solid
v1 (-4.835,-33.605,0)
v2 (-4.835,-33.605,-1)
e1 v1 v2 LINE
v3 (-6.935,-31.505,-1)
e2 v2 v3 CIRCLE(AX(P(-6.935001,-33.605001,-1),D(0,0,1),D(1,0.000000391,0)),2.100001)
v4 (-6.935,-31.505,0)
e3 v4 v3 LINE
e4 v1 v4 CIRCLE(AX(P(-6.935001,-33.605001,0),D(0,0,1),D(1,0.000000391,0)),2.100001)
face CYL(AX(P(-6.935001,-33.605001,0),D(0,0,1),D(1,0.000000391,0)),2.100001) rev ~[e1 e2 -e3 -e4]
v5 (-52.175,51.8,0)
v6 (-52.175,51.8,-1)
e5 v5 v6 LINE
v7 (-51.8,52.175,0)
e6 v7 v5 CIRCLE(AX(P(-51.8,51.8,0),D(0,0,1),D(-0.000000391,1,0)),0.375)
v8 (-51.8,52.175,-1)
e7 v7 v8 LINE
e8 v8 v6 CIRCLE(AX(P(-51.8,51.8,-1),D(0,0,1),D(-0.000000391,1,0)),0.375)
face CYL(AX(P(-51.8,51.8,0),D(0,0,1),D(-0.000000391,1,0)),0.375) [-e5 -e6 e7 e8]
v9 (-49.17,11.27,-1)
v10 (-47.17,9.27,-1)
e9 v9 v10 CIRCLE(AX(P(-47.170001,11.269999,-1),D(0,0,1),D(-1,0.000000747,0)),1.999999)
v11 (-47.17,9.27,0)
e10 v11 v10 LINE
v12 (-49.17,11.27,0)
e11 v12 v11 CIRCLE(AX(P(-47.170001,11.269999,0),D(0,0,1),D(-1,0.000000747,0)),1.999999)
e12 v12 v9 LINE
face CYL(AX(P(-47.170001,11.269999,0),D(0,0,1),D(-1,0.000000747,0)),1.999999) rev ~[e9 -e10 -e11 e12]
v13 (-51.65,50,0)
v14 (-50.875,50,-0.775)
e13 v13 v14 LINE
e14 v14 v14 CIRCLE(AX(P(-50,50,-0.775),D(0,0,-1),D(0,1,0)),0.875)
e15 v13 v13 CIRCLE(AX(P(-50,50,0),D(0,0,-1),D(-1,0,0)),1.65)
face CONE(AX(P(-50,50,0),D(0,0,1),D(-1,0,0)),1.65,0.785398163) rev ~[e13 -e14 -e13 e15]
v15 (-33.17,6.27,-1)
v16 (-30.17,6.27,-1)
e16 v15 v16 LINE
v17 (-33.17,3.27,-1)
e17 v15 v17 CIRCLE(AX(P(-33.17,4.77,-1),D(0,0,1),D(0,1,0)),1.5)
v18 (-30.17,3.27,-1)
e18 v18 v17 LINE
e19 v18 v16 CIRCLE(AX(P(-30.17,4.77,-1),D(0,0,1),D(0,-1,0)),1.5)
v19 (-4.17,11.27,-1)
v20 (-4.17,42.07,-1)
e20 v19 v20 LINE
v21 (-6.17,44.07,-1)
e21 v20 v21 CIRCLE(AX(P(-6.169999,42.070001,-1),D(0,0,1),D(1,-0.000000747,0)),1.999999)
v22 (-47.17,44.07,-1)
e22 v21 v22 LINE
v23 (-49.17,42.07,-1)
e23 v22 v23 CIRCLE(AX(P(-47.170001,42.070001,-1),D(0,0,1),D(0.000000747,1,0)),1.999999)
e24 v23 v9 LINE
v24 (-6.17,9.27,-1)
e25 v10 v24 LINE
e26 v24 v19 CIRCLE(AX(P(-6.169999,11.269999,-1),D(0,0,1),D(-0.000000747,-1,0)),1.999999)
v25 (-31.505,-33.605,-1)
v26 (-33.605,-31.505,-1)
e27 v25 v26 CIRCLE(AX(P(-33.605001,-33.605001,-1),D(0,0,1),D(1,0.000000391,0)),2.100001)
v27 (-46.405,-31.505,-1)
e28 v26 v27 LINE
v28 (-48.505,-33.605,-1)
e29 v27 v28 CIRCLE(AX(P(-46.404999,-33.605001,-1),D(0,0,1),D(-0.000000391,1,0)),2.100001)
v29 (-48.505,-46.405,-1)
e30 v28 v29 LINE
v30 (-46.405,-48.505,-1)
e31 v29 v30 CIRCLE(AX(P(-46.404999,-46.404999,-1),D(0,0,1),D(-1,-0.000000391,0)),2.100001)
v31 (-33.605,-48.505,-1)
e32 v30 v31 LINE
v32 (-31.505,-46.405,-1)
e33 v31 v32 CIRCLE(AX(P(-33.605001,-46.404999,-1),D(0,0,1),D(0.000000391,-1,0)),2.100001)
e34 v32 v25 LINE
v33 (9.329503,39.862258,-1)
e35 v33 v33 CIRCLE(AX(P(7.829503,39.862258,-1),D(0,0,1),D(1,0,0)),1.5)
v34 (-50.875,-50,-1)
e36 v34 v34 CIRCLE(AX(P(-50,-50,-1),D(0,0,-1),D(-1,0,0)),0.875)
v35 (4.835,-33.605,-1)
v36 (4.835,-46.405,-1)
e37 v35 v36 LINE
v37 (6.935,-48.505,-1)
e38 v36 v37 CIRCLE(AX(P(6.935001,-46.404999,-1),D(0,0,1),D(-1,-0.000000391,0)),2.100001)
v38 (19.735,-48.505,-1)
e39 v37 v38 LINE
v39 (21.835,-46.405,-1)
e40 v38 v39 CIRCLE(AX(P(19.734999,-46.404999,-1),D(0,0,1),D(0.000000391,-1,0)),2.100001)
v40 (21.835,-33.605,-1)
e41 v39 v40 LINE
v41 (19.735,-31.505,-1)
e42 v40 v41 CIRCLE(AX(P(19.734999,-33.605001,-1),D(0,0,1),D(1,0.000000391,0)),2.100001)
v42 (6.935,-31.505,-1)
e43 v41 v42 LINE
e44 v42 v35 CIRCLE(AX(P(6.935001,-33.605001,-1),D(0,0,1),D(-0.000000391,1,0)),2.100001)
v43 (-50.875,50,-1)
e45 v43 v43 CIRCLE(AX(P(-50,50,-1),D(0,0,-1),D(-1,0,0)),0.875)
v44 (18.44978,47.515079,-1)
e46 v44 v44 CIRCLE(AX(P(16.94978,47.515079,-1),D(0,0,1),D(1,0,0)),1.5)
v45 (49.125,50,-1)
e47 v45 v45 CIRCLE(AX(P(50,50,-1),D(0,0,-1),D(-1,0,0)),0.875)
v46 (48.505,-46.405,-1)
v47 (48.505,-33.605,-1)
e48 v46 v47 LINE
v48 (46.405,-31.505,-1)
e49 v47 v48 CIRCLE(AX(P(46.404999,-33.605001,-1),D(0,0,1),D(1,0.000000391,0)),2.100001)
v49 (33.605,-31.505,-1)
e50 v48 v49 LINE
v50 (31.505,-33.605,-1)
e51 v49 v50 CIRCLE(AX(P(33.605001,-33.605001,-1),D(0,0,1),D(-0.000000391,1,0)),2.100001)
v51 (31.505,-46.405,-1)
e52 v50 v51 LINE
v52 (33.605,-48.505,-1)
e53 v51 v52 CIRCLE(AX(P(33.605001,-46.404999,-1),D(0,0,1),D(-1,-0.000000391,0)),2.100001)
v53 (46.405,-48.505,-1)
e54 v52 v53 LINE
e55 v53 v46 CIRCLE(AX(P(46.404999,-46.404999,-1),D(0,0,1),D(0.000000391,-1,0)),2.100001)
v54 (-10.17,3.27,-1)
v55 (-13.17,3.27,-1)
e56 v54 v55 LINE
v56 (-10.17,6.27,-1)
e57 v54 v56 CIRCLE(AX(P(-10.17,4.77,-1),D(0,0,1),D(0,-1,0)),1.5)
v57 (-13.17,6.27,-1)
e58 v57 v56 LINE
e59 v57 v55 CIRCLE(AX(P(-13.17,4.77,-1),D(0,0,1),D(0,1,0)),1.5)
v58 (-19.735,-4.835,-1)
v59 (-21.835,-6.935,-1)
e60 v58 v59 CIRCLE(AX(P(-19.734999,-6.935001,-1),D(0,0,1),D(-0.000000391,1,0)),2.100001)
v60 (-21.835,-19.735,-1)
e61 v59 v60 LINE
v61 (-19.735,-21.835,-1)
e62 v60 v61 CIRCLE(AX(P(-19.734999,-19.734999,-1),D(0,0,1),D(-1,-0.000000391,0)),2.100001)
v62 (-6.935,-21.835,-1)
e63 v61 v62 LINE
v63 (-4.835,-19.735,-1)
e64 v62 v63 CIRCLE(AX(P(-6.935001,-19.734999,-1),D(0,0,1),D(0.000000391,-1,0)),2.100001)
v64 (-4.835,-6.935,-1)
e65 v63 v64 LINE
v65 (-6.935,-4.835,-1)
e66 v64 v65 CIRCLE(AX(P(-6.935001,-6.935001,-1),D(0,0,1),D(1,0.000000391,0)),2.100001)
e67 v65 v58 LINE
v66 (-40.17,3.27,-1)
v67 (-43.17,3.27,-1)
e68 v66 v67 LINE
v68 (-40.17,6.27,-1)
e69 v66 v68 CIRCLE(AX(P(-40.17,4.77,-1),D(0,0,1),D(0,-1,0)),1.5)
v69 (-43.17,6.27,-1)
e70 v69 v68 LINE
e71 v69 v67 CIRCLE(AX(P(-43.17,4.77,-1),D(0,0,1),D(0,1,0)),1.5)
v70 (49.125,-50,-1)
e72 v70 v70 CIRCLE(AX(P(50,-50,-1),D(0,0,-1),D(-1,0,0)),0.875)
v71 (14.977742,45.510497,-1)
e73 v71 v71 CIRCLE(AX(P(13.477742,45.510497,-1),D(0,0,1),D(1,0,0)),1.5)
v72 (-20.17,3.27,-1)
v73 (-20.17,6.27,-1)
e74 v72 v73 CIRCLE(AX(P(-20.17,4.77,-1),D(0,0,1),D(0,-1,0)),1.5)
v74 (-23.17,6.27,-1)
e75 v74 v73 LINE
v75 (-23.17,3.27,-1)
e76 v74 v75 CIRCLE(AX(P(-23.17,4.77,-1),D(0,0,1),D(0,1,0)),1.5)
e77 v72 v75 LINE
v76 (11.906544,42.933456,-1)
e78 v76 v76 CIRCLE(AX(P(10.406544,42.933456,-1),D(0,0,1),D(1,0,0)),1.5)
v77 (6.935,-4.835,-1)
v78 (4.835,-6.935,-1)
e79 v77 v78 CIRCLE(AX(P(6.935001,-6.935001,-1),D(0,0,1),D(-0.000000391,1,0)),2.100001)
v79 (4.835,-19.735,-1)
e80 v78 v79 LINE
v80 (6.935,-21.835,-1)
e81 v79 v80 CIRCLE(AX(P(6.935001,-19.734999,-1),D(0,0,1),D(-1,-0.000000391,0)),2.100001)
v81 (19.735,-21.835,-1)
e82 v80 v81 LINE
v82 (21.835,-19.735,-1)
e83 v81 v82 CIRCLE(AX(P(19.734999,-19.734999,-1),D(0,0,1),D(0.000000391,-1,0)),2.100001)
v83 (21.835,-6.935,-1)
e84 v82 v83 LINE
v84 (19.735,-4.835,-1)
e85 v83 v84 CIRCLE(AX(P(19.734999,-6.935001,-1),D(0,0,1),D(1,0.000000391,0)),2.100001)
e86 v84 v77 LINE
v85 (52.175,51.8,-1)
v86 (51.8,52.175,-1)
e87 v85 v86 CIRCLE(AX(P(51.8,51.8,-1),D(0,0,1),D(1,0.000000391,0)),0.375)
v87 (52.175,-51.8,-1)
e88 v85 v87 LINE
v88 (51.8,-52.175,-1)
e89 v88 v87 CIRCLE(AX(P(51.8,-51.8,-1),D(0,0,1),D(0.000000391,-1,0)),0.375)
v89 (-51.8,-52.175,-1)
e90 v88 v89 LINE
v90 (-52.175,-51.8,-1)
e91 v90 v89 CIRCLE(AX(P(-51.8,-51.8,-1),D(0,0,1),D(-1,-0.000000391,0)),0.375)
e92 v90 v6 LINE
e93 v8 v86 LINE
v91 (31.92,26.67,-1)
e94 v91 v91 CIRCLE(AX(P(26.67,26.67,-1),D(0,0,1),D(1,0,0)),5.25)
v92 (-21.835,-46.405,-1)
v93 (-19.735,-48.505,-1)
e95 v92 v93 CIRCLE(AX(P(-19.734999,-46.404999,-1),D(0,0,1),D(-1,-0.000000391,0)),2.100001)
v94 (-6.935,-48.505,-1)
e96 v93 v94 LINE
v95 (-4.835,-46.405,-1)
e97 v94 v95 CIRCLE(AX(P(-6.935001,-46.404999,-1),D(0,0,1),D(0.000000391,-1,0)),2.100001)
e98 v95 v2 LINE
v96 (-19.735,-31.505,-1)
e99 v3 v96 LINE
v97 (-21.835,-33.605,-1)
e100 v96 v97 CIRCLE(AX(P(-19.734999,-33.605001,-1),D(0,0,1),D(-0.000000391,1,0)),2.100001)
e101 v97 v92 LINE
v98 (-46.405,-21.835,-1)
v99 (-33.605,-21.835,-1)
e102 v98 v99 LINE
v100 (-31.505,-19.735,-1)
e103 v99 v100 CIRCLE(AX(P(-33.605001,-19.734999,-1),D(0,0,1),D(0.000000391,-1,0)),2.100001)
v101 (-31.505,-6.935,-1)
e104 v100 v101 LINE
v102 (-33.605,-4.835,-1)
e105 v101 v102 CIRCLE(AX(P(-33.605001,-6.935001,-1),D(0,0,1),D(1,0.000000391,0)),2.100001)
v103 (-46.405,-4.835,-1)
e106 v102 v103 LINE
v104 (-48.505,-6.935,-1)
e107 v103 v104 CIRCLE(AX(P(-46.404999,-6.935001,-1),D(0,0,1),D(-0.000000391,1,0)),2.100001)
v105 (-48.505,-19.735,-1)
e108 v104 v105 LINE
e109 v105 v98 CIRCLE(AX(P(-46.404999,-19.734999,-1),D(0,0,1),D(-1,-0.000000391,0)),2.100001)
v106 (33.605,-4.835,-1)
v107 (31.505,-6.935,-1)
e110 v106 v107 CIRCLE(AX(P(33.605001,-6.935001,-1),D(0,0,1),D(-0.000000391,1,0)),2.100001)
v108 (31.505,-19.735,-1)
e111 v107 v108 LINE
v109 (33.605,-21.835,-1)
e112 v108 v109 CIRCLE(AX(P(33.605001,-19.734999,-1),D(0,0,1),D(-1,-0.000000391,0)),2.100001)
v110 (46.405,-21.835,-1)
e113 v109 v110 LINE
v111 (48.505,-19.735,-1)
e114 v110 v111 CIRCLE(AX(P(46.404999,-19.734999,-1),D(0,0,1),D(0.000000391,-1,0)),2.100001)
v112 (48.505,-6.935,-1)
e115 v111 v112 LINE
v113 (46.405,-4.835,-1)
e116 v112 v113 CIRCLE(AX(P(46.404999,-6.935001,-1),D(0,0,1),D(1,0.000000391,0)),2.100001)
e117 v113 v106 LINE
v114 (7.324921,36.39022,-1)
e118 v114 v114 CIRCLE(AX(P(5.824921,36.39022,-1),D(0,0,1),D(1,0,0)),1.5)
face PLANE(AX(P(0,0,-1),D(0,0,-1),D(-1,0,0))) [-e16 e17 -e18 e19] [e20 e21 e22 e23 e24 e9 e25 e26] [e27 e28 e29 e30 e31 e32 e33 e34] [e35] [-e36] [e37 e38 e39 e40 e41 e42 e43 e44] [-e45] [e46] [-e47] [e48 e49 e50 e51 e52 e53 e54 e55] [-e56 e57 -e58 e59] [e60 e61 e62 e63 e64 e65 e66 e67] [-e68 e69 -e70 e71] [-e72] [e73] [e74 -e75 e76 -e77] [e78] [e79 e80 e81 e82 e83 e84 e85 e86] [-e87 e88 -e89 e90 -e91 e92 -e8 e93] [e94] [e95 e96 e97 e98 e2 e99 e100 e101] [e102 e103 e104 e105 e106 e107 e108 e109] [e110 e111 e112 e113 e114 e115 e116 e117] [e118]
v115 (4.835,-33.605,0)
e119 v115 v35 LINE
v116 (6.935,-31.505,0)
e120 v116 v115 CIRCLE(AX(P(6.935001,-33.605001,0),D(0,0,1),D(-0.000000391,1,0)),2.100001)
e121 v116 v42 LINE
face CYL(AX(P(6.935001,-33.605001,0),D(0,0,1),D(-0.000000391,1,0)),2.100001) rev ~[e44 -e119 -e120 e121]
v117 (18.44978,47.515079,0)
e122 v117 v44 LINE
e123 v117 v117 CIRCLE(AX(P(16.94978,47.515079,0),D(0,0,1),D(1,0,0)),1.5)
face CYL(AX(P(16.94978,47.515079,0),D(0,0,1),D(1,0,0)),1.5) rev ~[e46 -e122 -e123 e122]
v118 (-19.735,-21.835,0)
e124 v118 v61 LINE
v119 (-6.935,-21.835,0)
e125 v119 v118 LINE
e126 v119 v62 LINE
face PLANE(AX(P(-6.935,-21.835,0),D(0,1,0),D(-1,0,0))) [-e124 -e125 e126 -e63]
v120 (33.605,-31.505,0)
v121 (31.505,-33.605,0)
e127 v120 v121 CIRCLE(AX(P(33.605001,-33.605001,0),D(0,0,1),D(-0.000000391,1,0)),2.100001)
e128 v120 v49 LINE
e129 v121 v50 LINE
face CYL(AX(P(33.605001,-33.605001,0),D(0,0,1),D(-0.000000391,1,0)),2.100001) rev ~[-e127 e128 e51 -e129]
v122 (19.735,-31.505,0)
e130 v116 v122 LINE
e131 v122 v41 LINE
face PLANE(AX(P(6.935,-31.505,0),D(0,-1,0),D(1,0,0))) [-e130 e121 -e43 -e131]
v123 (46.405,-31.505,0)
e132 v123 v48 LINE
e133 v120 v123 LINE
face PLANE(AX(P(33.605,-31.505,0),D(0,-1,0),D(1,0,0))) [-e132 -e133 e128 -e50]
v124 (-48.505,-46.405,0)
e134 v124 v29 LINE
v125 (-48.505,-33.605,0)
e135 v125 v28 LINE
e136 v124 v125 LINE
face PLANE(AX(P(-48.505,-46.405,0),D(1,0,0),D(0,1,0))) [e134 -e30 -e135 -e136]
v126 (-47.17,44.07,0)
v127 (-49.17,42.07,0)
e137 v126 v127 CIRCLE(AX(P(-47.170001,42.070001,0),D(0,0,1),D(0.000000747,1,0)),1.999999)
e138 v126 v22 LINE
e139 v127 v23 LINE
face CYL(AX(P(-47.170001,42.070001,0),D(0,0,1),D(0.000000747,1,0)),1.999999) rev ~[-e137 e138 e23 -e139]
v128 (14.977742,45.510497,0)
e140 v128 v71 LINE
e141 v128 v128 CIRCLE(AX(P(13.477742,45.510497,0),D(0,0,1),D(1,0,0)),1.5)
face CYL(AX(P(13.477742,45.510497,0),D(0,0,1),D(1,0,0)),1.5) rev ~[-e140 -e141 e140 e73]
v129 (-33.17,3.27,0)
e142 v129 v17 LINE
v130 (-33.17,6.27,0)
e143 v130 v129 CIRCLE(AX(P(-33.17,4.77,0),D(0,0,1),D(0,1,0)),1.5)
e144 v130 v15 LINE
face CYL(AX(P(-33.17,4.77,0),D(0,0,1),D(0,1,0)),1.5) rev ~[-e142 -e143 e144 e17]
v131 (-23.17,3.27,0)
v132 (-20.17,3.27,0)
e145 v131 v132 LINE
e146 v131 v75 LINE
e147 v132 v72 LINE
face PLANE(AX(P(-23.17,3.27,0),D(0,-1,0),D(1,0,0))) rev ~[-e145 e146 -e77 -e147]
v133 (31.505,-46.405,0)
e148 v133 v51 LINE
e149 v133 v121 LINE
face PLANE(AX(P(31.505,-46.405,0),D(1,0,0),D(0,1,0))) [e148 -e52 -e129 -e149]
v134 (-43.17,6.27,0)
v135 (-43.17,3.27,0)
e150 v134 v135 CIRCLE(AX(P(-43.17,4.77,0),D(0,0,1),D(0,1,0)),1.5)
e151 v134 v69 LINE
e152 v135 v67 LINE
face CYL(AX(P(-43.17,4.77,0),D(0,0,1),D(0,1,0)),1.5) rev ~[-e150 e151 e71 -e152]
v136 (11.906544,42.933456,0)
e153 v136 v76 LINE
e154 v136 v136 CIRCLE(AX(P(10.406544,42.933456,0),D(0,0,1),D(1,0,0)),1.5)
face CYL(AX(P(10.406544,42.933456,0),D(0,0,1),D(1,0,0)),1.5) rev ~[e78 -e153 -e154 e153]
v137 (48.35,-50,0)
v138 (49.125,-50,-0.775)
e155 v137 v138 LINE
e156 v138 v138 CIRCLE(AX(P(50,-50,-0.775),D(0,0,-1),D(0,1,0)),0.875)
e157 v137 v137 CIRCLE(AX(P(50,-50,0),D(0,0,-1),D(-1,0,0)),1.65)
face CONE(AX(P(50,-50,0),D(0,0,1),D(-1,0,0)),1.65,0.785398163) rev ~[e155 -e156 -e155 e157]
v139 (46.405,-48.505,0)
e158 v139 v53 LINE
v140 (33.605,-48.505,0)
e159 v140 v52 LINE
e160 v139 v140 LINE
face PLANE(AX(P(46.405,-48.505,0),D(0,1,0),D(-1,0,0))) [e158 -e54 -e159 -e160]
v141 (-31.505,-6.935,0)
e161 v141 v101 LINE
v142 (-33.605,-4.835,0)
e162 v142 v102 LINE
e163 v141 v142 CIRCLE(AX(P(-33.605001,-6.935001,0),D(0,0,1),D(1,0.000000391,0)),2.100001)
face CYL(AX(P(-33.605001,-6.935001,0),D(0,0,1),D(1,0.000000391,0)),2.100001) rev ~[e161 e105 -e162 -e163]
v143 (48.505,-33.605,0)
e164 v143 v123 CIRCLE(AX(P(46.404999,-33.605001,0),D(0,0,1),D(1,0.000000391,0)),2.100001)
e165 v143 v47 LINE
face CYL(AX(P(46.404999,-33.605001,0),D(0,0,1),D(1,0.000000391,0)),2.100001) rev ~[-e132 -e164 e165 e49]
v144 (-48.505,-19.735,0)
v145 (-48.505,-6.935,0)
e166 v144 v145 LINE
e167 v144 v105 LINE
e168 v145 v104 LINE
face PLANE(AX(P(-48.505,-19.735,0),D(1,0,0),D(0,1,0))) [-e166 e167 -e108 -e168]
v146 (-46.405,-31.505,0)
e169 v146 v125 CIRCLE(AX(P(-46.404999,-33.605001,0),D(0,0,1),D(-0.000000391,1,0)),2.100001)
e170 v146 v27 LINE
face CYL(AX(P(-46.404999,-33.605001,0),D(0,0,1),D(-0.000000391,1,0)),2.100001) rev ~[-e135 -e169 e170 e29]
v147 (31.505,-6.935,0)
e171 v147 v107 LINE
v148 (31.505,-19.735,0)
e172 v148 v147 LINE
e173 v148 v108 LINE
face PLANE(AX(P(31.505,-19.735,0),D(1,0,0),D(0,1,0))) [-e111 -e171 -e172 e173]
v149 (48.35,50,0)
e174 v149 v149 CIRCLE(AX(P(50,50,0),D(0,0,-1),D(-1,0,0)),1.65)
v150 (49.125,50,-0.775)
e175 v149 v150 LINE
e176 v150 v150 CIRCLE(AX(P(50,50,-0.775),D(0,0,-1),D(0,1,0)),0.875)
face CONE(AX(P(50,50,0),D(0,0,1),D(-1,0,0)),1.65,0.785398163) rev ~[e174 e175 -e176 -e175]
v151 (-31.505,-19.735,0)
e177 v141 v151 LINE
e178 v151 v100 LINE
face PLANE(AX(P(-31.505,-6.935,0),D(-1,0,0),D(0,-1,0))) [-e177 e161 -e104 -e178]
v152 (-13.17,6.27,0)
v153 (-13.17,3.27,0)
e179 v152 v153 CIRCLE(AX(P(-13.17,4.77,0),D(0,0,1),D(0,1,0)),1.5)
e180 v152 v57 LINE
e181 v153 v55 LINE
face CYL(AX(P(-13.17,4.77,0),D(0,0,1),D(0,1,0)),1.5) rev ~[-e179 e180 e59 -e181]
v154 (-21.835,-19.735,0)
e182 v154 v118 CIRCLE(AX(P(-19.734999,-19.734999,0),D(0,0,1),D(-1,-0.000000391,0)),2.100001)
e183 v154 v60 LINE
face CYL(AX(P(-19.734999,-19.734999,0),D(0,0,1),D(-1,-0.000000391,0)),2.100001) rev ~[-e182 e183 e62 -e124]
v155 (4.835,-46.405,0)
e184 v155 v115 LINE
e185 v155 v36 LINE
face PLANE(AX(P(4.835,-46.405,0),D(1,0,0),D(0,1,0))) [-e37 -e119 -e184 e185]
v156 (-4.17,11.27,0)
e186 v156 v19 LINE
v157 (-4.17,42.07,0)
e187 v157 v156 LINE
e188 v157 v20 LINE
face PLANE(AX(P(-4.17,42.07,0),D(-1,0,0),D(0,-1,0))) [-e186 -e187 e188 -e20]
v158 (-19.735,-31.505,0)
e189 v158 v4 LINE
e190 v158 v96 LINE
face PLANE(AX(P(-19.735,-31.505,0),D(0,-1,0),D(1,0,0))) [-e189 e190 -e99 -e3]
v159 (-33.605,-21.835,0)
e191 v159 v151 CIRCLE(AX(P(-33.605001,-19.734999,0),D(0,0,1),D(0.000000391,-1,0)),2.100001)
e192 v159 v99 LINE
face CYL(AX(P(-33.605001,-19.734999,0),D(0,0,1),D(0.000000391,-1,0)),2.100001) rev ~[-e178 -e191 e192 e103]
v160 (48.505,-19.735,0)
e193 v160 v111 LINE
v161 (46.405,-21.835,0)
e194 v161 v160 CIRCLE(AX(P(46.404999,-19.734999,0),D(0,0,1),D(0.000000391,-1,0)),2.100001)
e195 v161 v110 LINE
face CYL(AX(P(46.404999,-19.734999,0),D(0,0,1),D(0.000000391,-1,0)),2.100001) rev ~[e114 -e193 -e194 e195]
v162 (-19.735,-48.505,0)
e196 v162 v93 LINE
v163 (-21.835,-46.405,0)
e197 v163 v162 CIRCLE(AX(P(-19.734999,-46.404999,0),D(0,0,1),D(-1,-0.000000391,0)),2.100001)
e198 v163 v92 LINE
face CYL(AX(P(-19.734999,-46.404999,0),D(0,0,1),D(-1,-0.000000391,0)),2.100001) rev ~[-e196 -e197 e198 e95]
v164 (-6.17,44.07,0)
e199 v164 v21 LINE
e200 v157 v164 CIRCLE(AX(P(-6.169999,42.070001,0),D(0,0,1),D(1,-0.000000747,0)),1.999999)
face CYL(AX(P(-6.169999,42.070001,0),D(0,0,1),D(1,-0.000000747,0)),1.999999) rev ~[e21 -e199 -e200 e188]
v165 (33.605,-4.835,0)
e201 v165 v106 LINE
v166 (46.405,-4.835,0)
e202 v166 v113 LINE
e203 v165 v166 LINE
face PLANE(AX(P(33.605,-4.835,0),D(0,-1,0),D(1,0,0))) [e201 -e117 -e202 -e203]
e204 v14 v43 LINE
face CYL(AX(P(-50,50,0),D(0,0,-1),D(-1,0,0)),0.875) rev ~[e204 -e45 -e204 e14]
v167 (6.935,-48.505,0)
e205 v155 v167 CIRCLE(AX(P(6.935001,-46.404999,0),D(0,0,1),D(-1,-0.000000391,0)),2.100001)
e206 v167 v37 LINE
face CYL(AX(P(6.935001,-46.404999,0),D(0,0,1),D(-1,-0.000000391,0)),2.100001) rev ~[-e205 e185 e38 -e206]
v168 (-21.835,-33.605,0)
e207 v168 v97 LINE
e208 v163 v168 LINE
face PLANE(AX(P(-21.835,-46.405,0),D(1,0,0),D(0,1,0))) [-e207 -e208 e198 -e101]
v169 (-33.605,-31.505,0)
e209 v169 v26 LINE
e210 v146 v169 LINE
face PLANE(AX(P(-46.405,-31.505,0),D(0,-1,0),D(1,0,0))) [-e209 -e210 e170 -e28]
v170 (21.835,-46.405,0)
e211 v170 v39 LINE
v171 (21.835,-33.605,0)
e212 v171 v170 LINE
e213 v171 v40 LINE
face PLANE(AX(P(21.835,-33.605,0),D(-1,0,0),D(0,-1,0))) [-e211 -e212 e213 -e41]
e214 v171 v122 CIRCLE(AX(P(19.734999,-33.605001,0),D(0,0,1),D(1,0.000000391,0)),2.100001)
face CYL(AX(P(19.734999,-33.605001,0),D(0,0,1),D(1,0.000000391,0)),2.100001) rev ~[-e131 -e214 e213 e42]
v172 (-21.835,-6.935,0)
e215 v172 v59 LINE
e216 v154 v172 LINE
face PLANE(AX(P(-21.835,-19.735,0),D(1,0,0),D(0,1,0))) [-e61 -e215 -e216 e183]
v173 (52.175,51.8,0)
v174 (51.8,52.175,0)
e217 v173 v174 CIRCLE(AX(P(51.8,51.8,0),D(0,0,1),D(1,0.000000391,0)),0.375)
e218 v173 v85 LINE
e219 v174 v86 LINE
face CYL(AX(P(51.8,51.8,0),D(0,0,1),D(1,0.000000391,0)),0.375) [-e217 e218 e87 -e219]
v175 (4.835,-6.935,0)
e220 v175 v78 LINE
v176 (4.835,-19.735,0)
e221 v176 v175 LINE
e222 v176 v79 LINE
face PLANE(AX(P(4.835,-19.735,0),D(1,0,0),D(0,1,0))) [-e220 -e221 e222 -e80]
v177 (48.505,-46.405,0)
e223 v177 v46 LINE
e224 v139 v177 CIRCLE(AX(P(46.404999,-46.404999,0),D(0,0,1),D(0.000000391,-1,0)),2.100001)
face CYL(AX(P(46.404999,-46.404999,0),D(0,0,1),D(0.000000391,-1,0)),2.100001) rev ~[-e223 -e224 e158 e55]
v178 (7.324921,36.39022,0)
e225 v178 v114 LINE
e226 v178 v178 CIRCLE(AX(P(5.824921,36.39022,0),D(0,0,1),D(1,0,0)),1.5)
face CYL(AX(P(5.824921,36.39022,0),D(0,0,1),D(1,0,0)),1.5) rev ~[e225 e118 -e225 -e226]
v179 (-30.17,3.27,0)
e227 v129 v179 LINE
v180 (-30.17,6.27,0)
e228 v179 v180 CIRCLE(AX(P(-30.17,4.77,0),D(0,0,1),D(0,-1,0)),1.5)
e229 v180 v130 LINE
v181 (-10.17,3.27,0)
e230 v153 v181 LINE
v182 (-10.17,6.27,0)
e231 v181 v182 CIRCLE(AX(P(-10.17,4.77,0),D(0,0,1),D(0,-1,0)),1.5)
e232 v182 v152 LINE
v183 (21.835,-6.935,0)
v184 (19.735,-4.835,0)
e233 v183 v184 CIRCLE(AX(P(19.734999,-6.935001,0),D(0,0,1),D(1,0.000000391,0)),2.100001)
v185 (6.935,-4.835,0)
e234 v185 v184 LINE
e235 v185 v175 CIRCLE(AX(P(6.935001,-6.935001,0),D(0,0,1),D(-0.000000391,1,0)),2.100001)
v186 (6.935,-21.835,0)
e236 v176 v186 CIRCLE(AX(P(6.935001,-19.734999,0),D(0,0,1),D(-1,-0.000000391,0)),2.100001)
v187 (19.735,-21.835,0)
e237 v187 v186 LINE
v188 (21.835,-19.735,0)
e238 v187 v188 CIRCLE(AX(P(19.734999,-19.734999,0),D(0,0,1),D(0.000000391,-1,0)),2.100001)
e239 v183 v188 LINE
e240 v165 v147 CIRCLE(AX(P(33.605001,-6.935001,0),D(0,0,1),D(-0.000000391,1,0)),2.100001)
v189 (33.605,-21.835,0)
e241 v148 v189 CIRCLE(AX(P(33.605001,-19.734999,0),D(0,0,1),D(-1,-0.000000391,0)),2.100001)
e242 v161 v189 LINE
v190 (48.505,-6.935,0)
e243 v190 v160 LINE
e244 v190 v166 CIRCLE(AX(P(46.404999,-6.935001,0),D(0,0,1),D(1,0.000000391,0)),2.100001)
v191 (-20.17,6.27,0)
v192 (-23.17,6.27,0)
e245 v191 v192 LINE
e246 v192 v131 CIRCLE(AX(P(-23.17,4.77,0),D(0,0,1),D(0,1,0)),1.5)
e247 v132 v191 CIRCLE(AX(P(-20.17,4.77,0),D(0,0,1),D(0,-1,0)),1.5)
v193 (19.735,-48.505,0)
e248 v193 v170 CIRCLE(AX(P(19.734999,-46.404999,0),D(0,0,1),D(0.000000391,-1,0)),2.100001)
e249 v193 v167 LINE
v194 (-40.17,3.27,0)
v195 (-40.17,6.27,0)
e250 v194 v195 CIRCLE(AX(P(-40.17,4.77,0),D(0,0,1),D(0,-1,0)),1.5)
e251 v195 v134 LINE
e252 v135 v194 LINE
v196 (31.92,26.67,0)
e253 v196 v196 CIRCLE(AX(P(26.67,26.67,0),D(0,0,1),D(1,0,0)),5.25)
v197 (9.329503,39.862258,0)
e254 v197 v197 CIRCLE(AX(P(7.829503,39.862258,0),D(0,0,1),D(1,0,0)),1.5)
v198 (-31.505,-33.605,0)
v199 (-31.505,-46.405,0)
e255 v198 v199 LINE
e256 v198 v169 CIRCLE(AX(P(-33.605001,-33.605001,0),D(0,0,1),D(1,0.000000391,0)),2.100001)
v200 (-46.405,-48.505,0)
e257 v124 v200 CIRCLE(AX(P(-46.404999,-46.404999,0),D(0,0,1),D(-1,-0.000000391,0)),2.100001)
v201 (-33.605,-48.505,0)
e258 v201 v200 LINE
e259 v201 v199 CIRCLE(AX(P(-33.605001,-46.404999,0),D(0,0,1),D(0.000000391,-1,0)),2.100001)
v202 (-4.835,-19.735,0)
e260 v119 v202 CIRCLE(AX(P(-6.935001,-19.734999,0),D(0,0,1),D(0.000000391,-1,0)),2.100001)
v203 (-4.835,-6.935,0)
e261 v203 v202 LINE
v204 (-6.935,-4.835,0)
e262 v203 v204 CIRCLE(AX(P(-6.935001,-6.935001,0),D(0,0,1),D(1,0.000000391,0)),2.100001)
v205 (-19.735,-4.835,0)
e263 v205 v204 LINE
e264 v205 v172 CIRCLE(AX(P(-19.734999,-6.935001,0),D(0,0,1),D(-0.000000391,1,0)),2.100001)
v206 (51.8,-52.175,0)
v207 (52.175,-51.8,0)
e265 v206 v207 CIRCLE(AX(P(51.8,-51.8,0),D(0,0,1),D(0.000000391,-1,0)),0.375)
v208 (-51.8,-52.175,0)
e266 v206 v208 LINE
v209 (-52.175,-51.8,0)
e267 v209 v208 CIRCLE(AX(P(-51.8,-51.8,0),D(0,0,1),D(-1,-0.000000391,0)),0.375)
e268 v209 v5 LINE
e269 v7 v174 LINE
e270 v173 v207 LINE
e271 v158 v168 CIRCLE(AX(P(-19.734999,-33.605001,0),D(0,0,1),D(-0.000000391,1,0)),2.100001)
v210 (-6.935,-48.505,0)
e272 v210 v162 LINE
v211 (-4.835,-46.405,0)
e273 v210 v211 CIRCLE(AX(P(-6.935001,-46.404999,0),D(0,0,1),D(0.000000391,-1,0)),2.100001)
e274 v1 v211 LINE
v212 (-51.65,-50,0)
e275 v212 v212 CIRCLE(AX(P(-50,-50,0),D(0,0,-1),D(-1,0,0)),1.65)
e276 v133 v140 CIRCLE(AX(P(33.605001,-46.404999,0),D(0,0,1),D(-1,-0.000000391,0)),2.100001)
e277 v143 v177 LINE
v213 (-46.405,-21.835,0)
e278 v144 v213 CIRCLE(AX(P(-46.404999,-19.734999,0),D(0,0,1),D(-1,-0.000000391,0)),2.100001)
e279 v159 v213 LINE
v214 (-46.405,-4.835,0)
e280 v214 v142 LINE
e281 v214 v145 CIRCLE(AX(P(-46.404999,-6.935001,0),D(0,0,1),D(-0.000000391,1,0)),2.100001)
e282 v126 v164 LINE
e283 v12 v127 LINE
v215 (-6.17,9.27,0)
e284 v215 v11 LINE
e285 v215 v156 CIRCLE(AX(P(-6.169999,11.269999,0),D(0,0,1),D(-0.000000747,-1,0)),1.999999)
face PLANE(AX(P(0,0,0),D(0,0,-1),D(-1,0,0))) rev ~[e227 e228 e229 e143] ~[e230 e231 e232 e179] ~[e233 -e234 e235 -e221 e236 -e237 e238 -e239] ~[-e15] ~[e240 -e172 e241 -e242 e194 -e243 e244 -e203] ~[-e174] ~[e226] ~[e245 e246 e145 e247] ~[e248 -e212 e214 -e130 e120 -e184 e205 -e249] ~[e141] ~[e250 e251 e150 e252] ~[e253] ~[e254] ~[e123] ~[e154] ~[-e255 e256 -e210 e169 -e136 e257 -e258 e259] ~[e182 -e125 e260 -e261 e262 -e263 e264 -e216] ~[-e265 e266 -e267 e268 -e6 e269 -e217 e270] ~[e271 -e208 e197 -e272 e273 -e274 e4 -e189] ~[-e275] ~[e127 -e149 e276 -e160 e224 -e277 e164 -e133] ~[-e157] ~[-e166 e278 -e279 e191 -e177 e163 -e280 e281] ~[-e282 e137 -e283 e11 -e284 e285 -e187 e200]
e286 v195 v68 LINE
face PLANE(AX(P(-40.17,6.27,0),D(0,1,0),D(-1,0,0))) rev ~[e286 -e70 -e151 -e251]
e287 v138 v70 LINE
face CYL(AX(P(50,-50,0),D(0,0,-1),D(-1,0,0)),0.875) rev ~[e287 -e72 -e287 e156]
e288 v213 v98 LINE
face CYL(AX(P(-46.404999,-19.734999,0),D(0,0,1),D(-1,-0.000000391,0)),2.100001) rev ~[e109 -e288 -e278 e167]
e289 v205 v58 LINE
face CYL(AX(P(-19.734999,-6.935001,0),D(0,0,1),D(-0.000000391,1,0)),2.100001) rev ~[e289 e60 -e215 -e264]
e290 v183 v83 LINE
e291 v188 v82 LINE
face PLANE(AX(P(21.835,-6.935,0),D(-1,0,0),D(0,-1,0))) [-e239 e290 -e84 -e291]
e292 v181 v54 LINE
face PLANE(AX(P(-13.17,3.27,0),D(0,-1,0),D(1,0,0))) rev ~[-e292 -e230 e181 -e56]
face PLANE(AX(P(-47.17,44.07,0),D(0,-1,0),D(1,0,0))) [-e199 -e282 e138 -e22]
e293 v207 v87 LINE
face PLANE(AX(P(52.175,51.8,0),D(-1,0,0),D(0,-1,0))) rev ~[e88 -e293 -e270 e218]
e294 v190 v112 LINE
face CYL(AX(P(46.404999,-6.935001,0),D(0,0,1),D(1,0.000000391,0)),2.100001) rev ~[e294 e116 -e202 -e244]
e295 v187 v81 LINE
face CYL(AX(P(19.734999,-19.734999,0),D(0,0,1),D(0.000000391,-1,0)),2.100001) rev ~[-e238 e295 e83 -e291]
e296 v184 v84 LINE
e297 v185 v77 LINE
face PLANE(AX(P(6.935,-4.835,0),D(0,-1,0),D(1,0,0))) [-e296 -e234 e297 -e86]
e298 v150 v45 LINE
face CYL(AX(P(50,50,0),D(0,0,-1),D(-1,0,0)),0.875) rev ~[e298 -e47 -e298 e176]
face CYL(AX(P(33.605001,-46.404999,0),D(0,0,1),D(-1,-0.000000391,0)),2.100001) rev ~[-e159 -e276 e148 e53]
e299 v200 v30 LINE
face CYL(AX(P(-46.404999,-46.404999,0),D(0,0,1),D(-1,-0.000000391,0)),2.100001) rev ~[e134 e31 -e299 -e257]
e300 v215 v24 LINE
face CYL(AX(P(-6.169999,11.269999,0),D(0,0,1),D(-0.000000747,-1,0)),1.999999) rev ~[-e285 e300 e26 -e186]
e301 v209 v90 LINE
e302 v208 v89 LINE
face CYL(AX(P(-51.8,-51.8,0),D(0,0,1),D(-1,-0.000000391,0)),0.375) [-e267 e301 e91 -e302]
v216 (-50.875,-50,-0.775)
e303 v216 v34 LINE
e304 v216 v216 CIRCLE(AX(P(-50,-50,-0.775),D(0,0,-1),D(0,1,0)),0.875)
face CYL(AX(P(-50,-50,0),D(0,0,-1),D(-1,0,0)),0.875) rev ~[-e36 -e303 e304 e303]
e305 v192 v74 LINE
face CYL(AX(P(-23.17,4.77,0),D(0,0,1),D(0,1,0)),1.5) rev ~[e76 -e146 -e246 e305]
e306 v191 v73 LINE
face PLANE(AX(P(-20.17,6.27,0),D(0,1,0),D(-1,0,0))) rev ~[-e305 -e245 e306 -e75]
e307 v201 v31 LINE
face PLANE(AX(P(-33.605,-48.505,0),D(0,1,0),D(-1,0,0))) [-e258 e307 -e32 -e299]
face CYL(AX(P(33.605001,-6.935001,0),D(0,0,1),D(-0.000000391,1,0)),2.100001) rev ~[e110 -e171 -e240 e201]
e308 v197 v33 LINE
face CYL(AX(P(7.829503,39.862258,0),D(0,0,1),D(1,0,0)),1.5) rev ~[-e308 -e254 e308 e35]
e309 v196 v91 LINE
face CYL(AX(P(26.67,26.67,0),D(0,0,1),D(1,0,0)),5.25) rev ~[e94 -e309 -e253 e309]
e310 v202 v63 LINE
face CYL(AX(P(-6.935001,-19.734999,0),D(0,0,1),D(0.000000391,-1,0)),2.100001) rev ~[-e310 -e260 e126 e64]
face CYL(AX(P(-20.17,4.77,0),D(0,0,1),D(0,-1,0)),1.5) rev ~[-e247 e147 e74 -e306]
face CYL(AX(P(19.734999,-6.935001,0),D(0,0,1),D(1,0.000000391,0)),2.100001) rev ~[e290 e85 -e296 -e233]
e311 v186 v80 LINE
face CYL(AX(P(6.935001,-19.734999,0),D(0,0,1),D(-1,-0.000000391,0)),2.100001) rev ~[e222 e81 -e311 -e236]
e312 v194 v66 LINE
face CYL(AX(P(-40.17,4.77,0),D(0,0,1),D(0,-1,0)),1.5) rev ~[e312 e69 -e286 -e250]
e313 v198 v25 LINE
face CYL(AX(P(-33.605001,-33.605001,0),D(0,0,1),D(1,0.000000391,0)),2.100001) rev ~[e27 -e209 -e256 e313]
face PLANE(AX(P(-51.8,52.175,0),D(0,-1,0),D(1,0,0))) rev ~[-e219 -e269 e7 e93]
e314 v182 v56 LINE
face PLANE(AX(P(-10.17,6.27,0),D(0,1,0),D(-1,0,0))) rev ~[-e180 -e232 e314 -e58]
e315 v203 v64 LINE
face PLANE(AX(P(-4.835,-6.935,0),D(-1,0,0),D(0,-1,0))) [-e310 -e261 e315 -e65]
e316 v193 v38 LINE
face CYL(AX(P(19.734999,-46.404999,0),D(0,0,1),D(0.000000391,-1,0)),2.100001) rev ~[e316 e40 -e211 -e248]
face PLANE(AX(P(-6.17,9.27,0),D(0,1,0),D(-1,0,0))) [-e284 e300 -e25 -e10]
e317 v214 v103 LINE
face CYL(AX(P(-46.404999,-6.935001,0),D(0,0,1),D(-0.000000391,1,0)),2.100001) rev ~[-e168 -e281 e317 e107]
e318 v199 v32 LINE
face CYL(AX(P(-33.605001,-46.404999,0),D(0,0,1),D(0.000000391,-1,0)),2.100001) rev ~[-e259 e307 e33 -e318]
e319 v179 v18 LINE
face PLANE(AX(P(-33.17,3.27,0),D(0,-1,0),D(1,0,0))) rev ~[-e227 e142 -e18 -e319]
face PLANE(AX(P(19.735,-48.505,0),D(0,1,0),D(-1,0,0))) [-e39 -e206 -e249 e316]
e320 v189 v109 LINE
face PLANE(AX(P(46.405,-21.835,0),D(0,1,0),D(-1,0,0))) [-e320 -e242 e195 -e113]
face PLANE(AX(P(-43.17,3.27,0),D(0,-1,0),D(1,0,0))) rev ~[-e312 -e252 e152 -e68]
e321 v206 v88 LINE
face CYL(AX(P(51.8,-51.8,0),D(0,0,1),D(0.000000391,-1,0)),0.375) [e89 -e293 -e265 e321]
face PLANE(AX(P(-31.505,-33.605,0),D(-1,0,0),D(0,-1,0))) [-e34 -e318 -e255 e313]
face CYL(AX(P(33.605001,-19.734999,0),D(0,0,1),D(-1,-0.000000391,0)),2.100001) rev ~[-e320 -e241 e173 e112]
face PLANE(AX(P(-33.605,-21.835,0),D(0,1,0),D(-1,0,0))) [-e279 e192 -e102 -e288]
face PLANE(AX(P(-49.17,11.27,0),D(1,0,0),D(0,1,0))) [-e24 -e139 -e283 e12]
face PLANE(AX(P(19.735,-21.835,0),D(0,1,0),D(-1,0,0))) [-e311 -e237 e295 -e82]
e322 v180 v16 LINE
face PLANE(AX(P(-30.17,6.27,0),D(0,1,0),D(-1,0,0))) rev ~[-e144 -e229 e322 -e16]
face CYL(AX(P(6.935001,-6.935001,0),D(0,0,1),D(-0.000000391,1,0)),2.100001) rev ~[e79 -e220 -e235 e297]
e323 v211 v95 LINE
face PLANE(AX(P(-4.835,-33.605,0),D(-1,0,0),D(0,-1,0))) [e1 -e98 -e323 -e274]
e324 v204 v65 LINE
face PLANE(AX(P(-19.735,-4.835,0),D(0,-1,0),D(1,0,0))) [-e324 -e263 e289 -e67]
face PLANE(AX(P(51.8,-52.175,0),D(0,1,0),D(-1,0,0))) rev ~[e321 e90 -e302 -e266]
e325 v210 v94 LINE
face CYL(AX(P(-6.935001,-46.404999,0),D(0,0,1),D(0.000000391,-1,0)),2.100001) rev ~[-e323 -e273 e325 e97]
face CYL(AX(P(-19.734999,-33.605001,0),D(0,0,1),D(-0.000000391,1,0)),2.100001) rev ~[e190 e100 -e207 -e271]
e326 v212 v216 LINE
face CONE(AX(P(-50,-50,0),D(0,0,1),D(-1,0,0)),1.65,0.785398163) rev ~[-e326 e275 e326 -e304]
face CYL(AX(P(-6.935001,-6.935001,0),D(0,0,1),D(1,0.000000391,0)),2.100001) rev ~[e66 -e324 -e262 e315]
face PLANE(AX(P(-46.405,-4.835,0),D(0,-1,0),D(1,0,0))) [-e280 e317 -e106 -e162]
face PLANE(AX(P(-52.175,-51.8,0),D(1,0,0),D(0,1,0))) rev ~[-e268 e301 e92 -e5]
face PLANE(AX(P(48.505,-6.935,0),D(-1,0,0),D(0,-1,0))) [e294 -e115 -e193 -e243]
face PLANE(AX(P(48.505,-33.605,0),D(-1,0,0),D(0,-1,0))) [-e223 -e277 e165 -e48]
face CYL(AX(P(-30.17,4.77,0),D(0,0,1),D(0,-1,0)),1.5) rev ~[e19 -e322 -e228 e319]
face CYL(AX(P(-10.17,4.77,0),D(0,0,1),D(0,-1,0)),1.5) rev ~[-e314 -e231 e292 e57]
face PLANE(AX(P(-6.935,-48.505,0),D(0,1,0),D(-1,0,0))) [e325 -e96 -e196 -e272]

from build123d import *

# Parameters (mm, degrees)
PAD_DEPTH        = 1
POCKET_DEPTH     = 0.001
HOLE_D           = 1.75
HOLE_CSINK_D     = 3.3
HOLE_CSINK_ANGLE = 90
SKETCH025_R      = 5.25
SKETCH025_R_2    = 1.5
POCKET007_DEPTH  = 5
POCKET008_DEPTH  = 1.001
POCKET010_DEPTH  = 5
POCKET011_DEPTH  = 1.001


with BuildPart() as part:
    # Sketch → Pad (new body)
    with BuildSketch(Plane.XY):
        with BuildLine():
            Line((-51.8, 52.175), (51.8, 52.175))
            ThreePointArc((52.175, 51.8), (52.065165, 52.065165), (51.8, 52.175))
            Line((52.175, 51.8), (52.175, -51.8))
            ThreePointArc((51.8, -52.175), (52.065165, -52.065165), (52.175, -51.8))
            Line((51.8, -52.175), (-51.8, -52.175))
            ThreePointArc((-52.175, -51.8), (-52.065165, -52.065165), (-51.8, -52.175))
            Line((-52.175, -51.8), (-52.175, 51.8))
            ThreePointArc((-51.8, 52.175), (-52.065165, 52.065165), (-52.175, 51.8))
        make_face()
    extrude(amount=-PAD_DEPTH)

    # Sketch002 → Pocket (cut, through all)
    with BuildSketch(Plane.XY.offset(-4.8)):
        with BuildLine():
            Line((-45, 50.175), (45, 50.175))
            ThreePointArc((45, 50.175), (45.353553, 50.321447), (45.5, 50.675))
            ThreePointArc((45.5, 50.675), (45.353553, 51.028553), (45, 51.175))
            Line((-45, 51.175), (45, 51.175))
            ThreePointArc((-45, 51.175), (-45.353553, 51.028553), (-45.5, 50.675))
            ThreePointArc((-45.5, 50.675), (-45.353553, 50.321447), (-45, 50.175))
        make_face()
        with BuildLine():
            Line((-45, -51.175), (45, -51.175))
            ThreePointArc((45, -51.175), (45.353553, -51.028553), (45.5, -50.675))
            ThreePointArc((45.5, -50.675), (45.353553, -50.321447), (45, -50.175))
            Line((-45, -50.175), (45, -50.175))
            ThreePointArc((-45, -50.175), (-45.353553, -50.321447), (-45.5, -50.675))
            ThreePointArc((-45.5, -50.675), (-45.353553, -51.028553), (-45, -51.175))
        make_face()
        with BuildLine():
            Line((51.175, -45), (51.175, 45))
            ThreePointArc((51.175, 45), (51.028553, 45.353553), (50.675, 45.5))
            ThreePointArc((50.675, 45.5), (50.321447, 45.353553), (50.175, 45))
            Line((50.175, -45), (50.175, 45))
            ThreePointArc((50.175, -45), (50.321447, -45.353553), (50.675, -45.5))
            ThreePointArc((50.675, -45.5), (51.028553, -45.353553), (51.175, -45))
        make_face()
        with BuildLine():
            Line((-50.175, -45), (-50.175, 45))
            ThreePointArc((-50.175, 45), (-50.321447, 45.353553), (-50.675, 45.5))
            ThreePointArc((-50.675, 45.5), (-51.028553, 45.353553), (-51.175, 45))
            Line((-51.175, -45), (-51.175, 45))
            ThreePointArc((-51.175, -45), (-51.028553, -45.353553), (-50.675, -45.5))
            ThreePointArc((-50.675, -45.5), (-50.321447, -45.353553), (-50.175, -45))
        make_face()
    extrude(amount=-POCKET_DEPTH, mode=Mode.SUBTRACT)

    # Hole (through all)
    with Locations(Plane.XY):
        with Locations((-50, 50), (50, 50), (50, -50), (-50, -50)):
            CounterSinkHole(HOLE_D / 2, HOLE_CSINK_D / 2, counter_sink_angle=HOLE_CSINK_ANGLE)

    # Sketch025 → Pocket007 (cut)
    with BuildSketch(Plane.XY):
        with Locations((26.67, 26.67)):
            Circle(SKETCH025_R)
        with Locations((5.824921, 36.39022)):
            Circle(SKETCH025_R_2)
        with Locations((7.829503, 39.862258)):
            Circle(SKETCH025_R_2)
        with Locations((10.406544, 42.933456)):
            Circle(SKETCH025_R_2)
        with Locations((13.477742, 45.510497)):
            Circle(SKETCH025_R_2)
        with Locations((16.94978, 47.515079)):
            Circle(SKETCH025_R_2)
    extrude(amount=-POCKET007_DEPTH, mode=Mode.SUBTRACT)

    # Sketch027 → Pocket008 (cut, through all)
    with BuildSketch(Plane.XY):
        with BuildLine():
            Line((-49.17, 11.27), (-49.17, 42.07))
            ThreePointArc((-47.17, 44.07), (-48.584214, 43.484214), (-49.17, 42.07))
            Line((-47.17, 44.07), (-6.17, 44.07))
            ThreePointArc((-4.17, 42.07), (-4.755786, 43.484214), (-6.17, 44.07))
            Line((-4.17, 42.07), (-4.17, 11.27))
            ThreePointArc((-6.17, 9.27), (-4.755786, 9.855786), (-4.17, 11.27))
            Line((-6.17, 9.27), (-47.17, 9.27))
            ThreePointArc((-49.17, 11.27), (-48.584214, 9.855786), (-47.17, 9.27))
        make_face()
    extrude(amount=-POCKET008_DEPTH, mode=Mode.SUBTRACT)

    # Sketch029 → Pocket010 (cut)
    with BuildSketch(Plane.XY):
        with BuildLine():
            ThreePointArc((-33.17, 6.27), (-34.67, 4.77), (-33.17, 3.27))
            Line((-33.17, 3.27), (-30.17, 3.27))
            ThreePointArc((-30.17, 3.27), (-28.67, 4.77), (-30.17, 6.27))
            Line((-30.17, 6.27), (-33.17, 6.27))
        make_face()
        with BuildLine():
            ThreePointArc((-23.17, 6.27), (-24.67, 4.77), (-23.17, 3.27))
            Line((-23.17, 3.27), (-20.17, 3.27))
            ThreePointArc((-20.17, 3.27), (-18.67, 4.77), (-20.17, 6.27))
            Line((-20.17, 6.27), (-23.17, 6.27))
        make_face()
        with BuildLine():
            ThreePointArc((-13.17, 6.27), (-14.67, 4.77), (-13.17, 3.27))
            Line((-13.17, 3.27), (-10.17, 3.27))
            ThreePointArc((-10.17, 3.27), (-8.67, 4.77), (-10.17, 6.27))
            Line((-10.17, 6.27), (-13.17, 6.27))
        make_face()
        with BuildLine():
            ThreePointArc((-43.17, 6.27), (-44.67, 4.77), (-43.17, 3.27))
            Line((-43.17, 3.27), (-40.17, 3.27))
            ThreePointArc((-40.17, 3.27), (-38.67, 4.77), (-40.17, 6.27))
            Line((-40.17, 6.27), (-43.17, 6.27))
        make_face()
    extrude(amount=-POCKET010_DEPTH, mode=Mode.SUBTRACT)

    # Sketch030 → Pocket011 (cut, through all)
    with BuildSketch(Plane.XY):
        with BuildLine():
            Line((-48.505, -19.735), (-48.505, -6.935))
            ThreePointArc((-46.405, -4.835), (-47.889924, -5.450076), (-48.505, -6.935))
            Line((-46.405, -4.835), (-33.605, -4.835))
            ThreePointArc((-31.505, -6.935), (-32.120076, -5.450076), (-33.605, -4.835))
            Line((-31.505, -6.935), (-31.505, -19.735))
            ThreePointArc((-33.605, -21.835), (-32.120076, -21.219924), (-31.505, -19.735))
            Line((-33.605, -21.835), (-46.405, -21.835))
            ThreePointArc((-48.505, -19.735), (-47.889924, -21.219924), (-46.405, -21.835))
        make_face()
        with BuildLine():
            Line((-21.835, -19.735), (-21.835, -6.935))
            ThreePointArc((-19.735, -4.835), (-21.219924, -5.450076), (-21.835, -6.935))
            Line((-19.735, -4.835), (-6.935, -4.835))
            ThreePointArc((-4.835, -6.935), (-5.450076, -5.450076), (-6.935, -4.835))
            Line((-4.835, -6.935), (-4.835, -19.735))
            ThreePointArc((-6.935, -21.835), (-5.450076, -21.219924), (-4.835, -19.735))
            Line((-6.935, -21.835), (-19.735, -21.835))
            ThreePointArc((-21.835, -19.735), (-21.219924, -21.219924), (-19.735, -21.835))
        make_face()
        with BuildLine():
            Line((4.835, -19.735), (4.835, -6.935))
            ThreePointArc((6.935, -4.835), (5.450076, -5.450076), (4.835, -6.935))
            Line((6.935, -4.835), (19.735, -4.835))
            ThreePointArc((21.835, -6.935), (21.219924, -5.450076), (19.735, -4.835))
            Line((21.835, -6.935), (21.835, -19.735))
            ThreePointArc((19.735, -21.835), (21.219924, -21.219924), (21.835, -19.735))
            Line((19.735, -21.835), (6.935, -21.835))
            ThreePointArc((4.835, -19.735), (5.450076, -21.219924), (6.935, -21.835))
        make_face()
        with BuildLine():
            Line((31.505, -19.735), (31.505, -6.935))
            ThreePointArc((33.605, -4.835), (32.120076, -5.450076), (31.505, -6.935))
            Line((33.605, -4.835), (46.405, -4.835))
            ThreePointArc((48.505, -6.935), (47.889924, -5.450076), (46.405, -4.835))
            Line((48.505, -6.935), (48.505, -19.735))
            ThreePointArc((46.405, -21.835), (47.889924, -21.219924), (48.505, -19.735))
            Line((46.405, -21.835), (33.605, -21.835))
            ThreePointArc((31.505, -19.735), (32.120076, -21.219924), (33.605, -21.835))
        make_face()
        with BuildLine():
            Line((31.505, -46.405), (31.505, -33.605))
            ThreePointArc((33.605, -31.505), (32.120076, -32.120076), (31.505, -33.605))
            Line((33.605, -31.505), (46.405, -31.505))
            ThreePointArc((48.505, -33.605), (47.889924, -32.120076), (46.405, -31.505))
            Line((48.505, -33.605), (48.505, -46.405))
            ThreePointArc((46.405, -48.505), (47.889924, -47.889924), (48.505, -46.405))
            Line((46.405, -48.505), (33.605, -48.505))
            ThreePointArc((31.505, -46.405), (32.120076, -47.889924), (33.605, -48.505))
        make_face()
        with BuildLine():
            Line((4.835, -46.405), (4.835, -33.605))
            ThreePointArc((6.935, -31.505), (5.450076, -32.120076), (4.835, -33.605))
            Line((6.935, -31.505), (19.735, -31.505))
            ThreePointArc((21.835, -33.605), (21.219924, -32.120076), (19.735, -31.505))
            Line((21.835, -33.605), (21.835, -46.405))
            ThreePointArc((19.735, -48.505), (21.219924, -47.889924), (21.835, -46.405))
            Line((19.735, -48.505), (6.935, -48.505))
            ThreePointArc((4.835, -46.405), (5.450076, -47.889924), (6.935, -48.505))
        make_face()
        with BuildLine():
            Line((-21.835, -46.405), (-21.835, -33.605))
            ThreePointArc((-19.735, -31.505), (-21.219924, -32.120076), (-21.835, -33.605))
            Line((-19.735, -31.505), (-6.935, -31.505))
            ThreePointArc((-4.835, -33.605), (-5.450076, -32.120076), (-6.935, -31.505))
            Line((-4.835, -33.605), (-4.835, -46.405))
            ThreePointArc((-6.935, -48.505), (-5.450076, -47.889924), (-4.835, -46.405))
            Line((-6.935, -48.505), (-19.735, -48.505))
            ThreePointArc((-21.835, -46.405), (-21.219924, -47.889924), (-19.735, -48.505))
        make_face()
        with BuildLine():
            Line((-48.505, -46.405), (-48.505, -33.605))
            ThreePointArc((-46.405, -31.505), (-47.889924, -32.120076), (-48.505, -33.605))
            Line((-46.405, -31.505), (-33.605, -31.505))
            ThreePointArc((-31.505, -33.605), (-32.120076, -32.120076), (-33.605, -31.505))
            Line((-31.505, -33.605), (-31.505, -46.405))
            ThreePointArc((-33.605, -48.505), (-32.120076, -47.889924), (-31.505, -46.405))
            Line((-33.605, -48.505), (-46.405, -48.505))
            ThreePointArc((-48.505, -46.405), (-47.889924, -47.889924), (-46.405, -48.505))
        make_face()
    extrude(amount=-POCKET011_DEPTH, mode=Mode.SUBTRACT)


solid = part.part
